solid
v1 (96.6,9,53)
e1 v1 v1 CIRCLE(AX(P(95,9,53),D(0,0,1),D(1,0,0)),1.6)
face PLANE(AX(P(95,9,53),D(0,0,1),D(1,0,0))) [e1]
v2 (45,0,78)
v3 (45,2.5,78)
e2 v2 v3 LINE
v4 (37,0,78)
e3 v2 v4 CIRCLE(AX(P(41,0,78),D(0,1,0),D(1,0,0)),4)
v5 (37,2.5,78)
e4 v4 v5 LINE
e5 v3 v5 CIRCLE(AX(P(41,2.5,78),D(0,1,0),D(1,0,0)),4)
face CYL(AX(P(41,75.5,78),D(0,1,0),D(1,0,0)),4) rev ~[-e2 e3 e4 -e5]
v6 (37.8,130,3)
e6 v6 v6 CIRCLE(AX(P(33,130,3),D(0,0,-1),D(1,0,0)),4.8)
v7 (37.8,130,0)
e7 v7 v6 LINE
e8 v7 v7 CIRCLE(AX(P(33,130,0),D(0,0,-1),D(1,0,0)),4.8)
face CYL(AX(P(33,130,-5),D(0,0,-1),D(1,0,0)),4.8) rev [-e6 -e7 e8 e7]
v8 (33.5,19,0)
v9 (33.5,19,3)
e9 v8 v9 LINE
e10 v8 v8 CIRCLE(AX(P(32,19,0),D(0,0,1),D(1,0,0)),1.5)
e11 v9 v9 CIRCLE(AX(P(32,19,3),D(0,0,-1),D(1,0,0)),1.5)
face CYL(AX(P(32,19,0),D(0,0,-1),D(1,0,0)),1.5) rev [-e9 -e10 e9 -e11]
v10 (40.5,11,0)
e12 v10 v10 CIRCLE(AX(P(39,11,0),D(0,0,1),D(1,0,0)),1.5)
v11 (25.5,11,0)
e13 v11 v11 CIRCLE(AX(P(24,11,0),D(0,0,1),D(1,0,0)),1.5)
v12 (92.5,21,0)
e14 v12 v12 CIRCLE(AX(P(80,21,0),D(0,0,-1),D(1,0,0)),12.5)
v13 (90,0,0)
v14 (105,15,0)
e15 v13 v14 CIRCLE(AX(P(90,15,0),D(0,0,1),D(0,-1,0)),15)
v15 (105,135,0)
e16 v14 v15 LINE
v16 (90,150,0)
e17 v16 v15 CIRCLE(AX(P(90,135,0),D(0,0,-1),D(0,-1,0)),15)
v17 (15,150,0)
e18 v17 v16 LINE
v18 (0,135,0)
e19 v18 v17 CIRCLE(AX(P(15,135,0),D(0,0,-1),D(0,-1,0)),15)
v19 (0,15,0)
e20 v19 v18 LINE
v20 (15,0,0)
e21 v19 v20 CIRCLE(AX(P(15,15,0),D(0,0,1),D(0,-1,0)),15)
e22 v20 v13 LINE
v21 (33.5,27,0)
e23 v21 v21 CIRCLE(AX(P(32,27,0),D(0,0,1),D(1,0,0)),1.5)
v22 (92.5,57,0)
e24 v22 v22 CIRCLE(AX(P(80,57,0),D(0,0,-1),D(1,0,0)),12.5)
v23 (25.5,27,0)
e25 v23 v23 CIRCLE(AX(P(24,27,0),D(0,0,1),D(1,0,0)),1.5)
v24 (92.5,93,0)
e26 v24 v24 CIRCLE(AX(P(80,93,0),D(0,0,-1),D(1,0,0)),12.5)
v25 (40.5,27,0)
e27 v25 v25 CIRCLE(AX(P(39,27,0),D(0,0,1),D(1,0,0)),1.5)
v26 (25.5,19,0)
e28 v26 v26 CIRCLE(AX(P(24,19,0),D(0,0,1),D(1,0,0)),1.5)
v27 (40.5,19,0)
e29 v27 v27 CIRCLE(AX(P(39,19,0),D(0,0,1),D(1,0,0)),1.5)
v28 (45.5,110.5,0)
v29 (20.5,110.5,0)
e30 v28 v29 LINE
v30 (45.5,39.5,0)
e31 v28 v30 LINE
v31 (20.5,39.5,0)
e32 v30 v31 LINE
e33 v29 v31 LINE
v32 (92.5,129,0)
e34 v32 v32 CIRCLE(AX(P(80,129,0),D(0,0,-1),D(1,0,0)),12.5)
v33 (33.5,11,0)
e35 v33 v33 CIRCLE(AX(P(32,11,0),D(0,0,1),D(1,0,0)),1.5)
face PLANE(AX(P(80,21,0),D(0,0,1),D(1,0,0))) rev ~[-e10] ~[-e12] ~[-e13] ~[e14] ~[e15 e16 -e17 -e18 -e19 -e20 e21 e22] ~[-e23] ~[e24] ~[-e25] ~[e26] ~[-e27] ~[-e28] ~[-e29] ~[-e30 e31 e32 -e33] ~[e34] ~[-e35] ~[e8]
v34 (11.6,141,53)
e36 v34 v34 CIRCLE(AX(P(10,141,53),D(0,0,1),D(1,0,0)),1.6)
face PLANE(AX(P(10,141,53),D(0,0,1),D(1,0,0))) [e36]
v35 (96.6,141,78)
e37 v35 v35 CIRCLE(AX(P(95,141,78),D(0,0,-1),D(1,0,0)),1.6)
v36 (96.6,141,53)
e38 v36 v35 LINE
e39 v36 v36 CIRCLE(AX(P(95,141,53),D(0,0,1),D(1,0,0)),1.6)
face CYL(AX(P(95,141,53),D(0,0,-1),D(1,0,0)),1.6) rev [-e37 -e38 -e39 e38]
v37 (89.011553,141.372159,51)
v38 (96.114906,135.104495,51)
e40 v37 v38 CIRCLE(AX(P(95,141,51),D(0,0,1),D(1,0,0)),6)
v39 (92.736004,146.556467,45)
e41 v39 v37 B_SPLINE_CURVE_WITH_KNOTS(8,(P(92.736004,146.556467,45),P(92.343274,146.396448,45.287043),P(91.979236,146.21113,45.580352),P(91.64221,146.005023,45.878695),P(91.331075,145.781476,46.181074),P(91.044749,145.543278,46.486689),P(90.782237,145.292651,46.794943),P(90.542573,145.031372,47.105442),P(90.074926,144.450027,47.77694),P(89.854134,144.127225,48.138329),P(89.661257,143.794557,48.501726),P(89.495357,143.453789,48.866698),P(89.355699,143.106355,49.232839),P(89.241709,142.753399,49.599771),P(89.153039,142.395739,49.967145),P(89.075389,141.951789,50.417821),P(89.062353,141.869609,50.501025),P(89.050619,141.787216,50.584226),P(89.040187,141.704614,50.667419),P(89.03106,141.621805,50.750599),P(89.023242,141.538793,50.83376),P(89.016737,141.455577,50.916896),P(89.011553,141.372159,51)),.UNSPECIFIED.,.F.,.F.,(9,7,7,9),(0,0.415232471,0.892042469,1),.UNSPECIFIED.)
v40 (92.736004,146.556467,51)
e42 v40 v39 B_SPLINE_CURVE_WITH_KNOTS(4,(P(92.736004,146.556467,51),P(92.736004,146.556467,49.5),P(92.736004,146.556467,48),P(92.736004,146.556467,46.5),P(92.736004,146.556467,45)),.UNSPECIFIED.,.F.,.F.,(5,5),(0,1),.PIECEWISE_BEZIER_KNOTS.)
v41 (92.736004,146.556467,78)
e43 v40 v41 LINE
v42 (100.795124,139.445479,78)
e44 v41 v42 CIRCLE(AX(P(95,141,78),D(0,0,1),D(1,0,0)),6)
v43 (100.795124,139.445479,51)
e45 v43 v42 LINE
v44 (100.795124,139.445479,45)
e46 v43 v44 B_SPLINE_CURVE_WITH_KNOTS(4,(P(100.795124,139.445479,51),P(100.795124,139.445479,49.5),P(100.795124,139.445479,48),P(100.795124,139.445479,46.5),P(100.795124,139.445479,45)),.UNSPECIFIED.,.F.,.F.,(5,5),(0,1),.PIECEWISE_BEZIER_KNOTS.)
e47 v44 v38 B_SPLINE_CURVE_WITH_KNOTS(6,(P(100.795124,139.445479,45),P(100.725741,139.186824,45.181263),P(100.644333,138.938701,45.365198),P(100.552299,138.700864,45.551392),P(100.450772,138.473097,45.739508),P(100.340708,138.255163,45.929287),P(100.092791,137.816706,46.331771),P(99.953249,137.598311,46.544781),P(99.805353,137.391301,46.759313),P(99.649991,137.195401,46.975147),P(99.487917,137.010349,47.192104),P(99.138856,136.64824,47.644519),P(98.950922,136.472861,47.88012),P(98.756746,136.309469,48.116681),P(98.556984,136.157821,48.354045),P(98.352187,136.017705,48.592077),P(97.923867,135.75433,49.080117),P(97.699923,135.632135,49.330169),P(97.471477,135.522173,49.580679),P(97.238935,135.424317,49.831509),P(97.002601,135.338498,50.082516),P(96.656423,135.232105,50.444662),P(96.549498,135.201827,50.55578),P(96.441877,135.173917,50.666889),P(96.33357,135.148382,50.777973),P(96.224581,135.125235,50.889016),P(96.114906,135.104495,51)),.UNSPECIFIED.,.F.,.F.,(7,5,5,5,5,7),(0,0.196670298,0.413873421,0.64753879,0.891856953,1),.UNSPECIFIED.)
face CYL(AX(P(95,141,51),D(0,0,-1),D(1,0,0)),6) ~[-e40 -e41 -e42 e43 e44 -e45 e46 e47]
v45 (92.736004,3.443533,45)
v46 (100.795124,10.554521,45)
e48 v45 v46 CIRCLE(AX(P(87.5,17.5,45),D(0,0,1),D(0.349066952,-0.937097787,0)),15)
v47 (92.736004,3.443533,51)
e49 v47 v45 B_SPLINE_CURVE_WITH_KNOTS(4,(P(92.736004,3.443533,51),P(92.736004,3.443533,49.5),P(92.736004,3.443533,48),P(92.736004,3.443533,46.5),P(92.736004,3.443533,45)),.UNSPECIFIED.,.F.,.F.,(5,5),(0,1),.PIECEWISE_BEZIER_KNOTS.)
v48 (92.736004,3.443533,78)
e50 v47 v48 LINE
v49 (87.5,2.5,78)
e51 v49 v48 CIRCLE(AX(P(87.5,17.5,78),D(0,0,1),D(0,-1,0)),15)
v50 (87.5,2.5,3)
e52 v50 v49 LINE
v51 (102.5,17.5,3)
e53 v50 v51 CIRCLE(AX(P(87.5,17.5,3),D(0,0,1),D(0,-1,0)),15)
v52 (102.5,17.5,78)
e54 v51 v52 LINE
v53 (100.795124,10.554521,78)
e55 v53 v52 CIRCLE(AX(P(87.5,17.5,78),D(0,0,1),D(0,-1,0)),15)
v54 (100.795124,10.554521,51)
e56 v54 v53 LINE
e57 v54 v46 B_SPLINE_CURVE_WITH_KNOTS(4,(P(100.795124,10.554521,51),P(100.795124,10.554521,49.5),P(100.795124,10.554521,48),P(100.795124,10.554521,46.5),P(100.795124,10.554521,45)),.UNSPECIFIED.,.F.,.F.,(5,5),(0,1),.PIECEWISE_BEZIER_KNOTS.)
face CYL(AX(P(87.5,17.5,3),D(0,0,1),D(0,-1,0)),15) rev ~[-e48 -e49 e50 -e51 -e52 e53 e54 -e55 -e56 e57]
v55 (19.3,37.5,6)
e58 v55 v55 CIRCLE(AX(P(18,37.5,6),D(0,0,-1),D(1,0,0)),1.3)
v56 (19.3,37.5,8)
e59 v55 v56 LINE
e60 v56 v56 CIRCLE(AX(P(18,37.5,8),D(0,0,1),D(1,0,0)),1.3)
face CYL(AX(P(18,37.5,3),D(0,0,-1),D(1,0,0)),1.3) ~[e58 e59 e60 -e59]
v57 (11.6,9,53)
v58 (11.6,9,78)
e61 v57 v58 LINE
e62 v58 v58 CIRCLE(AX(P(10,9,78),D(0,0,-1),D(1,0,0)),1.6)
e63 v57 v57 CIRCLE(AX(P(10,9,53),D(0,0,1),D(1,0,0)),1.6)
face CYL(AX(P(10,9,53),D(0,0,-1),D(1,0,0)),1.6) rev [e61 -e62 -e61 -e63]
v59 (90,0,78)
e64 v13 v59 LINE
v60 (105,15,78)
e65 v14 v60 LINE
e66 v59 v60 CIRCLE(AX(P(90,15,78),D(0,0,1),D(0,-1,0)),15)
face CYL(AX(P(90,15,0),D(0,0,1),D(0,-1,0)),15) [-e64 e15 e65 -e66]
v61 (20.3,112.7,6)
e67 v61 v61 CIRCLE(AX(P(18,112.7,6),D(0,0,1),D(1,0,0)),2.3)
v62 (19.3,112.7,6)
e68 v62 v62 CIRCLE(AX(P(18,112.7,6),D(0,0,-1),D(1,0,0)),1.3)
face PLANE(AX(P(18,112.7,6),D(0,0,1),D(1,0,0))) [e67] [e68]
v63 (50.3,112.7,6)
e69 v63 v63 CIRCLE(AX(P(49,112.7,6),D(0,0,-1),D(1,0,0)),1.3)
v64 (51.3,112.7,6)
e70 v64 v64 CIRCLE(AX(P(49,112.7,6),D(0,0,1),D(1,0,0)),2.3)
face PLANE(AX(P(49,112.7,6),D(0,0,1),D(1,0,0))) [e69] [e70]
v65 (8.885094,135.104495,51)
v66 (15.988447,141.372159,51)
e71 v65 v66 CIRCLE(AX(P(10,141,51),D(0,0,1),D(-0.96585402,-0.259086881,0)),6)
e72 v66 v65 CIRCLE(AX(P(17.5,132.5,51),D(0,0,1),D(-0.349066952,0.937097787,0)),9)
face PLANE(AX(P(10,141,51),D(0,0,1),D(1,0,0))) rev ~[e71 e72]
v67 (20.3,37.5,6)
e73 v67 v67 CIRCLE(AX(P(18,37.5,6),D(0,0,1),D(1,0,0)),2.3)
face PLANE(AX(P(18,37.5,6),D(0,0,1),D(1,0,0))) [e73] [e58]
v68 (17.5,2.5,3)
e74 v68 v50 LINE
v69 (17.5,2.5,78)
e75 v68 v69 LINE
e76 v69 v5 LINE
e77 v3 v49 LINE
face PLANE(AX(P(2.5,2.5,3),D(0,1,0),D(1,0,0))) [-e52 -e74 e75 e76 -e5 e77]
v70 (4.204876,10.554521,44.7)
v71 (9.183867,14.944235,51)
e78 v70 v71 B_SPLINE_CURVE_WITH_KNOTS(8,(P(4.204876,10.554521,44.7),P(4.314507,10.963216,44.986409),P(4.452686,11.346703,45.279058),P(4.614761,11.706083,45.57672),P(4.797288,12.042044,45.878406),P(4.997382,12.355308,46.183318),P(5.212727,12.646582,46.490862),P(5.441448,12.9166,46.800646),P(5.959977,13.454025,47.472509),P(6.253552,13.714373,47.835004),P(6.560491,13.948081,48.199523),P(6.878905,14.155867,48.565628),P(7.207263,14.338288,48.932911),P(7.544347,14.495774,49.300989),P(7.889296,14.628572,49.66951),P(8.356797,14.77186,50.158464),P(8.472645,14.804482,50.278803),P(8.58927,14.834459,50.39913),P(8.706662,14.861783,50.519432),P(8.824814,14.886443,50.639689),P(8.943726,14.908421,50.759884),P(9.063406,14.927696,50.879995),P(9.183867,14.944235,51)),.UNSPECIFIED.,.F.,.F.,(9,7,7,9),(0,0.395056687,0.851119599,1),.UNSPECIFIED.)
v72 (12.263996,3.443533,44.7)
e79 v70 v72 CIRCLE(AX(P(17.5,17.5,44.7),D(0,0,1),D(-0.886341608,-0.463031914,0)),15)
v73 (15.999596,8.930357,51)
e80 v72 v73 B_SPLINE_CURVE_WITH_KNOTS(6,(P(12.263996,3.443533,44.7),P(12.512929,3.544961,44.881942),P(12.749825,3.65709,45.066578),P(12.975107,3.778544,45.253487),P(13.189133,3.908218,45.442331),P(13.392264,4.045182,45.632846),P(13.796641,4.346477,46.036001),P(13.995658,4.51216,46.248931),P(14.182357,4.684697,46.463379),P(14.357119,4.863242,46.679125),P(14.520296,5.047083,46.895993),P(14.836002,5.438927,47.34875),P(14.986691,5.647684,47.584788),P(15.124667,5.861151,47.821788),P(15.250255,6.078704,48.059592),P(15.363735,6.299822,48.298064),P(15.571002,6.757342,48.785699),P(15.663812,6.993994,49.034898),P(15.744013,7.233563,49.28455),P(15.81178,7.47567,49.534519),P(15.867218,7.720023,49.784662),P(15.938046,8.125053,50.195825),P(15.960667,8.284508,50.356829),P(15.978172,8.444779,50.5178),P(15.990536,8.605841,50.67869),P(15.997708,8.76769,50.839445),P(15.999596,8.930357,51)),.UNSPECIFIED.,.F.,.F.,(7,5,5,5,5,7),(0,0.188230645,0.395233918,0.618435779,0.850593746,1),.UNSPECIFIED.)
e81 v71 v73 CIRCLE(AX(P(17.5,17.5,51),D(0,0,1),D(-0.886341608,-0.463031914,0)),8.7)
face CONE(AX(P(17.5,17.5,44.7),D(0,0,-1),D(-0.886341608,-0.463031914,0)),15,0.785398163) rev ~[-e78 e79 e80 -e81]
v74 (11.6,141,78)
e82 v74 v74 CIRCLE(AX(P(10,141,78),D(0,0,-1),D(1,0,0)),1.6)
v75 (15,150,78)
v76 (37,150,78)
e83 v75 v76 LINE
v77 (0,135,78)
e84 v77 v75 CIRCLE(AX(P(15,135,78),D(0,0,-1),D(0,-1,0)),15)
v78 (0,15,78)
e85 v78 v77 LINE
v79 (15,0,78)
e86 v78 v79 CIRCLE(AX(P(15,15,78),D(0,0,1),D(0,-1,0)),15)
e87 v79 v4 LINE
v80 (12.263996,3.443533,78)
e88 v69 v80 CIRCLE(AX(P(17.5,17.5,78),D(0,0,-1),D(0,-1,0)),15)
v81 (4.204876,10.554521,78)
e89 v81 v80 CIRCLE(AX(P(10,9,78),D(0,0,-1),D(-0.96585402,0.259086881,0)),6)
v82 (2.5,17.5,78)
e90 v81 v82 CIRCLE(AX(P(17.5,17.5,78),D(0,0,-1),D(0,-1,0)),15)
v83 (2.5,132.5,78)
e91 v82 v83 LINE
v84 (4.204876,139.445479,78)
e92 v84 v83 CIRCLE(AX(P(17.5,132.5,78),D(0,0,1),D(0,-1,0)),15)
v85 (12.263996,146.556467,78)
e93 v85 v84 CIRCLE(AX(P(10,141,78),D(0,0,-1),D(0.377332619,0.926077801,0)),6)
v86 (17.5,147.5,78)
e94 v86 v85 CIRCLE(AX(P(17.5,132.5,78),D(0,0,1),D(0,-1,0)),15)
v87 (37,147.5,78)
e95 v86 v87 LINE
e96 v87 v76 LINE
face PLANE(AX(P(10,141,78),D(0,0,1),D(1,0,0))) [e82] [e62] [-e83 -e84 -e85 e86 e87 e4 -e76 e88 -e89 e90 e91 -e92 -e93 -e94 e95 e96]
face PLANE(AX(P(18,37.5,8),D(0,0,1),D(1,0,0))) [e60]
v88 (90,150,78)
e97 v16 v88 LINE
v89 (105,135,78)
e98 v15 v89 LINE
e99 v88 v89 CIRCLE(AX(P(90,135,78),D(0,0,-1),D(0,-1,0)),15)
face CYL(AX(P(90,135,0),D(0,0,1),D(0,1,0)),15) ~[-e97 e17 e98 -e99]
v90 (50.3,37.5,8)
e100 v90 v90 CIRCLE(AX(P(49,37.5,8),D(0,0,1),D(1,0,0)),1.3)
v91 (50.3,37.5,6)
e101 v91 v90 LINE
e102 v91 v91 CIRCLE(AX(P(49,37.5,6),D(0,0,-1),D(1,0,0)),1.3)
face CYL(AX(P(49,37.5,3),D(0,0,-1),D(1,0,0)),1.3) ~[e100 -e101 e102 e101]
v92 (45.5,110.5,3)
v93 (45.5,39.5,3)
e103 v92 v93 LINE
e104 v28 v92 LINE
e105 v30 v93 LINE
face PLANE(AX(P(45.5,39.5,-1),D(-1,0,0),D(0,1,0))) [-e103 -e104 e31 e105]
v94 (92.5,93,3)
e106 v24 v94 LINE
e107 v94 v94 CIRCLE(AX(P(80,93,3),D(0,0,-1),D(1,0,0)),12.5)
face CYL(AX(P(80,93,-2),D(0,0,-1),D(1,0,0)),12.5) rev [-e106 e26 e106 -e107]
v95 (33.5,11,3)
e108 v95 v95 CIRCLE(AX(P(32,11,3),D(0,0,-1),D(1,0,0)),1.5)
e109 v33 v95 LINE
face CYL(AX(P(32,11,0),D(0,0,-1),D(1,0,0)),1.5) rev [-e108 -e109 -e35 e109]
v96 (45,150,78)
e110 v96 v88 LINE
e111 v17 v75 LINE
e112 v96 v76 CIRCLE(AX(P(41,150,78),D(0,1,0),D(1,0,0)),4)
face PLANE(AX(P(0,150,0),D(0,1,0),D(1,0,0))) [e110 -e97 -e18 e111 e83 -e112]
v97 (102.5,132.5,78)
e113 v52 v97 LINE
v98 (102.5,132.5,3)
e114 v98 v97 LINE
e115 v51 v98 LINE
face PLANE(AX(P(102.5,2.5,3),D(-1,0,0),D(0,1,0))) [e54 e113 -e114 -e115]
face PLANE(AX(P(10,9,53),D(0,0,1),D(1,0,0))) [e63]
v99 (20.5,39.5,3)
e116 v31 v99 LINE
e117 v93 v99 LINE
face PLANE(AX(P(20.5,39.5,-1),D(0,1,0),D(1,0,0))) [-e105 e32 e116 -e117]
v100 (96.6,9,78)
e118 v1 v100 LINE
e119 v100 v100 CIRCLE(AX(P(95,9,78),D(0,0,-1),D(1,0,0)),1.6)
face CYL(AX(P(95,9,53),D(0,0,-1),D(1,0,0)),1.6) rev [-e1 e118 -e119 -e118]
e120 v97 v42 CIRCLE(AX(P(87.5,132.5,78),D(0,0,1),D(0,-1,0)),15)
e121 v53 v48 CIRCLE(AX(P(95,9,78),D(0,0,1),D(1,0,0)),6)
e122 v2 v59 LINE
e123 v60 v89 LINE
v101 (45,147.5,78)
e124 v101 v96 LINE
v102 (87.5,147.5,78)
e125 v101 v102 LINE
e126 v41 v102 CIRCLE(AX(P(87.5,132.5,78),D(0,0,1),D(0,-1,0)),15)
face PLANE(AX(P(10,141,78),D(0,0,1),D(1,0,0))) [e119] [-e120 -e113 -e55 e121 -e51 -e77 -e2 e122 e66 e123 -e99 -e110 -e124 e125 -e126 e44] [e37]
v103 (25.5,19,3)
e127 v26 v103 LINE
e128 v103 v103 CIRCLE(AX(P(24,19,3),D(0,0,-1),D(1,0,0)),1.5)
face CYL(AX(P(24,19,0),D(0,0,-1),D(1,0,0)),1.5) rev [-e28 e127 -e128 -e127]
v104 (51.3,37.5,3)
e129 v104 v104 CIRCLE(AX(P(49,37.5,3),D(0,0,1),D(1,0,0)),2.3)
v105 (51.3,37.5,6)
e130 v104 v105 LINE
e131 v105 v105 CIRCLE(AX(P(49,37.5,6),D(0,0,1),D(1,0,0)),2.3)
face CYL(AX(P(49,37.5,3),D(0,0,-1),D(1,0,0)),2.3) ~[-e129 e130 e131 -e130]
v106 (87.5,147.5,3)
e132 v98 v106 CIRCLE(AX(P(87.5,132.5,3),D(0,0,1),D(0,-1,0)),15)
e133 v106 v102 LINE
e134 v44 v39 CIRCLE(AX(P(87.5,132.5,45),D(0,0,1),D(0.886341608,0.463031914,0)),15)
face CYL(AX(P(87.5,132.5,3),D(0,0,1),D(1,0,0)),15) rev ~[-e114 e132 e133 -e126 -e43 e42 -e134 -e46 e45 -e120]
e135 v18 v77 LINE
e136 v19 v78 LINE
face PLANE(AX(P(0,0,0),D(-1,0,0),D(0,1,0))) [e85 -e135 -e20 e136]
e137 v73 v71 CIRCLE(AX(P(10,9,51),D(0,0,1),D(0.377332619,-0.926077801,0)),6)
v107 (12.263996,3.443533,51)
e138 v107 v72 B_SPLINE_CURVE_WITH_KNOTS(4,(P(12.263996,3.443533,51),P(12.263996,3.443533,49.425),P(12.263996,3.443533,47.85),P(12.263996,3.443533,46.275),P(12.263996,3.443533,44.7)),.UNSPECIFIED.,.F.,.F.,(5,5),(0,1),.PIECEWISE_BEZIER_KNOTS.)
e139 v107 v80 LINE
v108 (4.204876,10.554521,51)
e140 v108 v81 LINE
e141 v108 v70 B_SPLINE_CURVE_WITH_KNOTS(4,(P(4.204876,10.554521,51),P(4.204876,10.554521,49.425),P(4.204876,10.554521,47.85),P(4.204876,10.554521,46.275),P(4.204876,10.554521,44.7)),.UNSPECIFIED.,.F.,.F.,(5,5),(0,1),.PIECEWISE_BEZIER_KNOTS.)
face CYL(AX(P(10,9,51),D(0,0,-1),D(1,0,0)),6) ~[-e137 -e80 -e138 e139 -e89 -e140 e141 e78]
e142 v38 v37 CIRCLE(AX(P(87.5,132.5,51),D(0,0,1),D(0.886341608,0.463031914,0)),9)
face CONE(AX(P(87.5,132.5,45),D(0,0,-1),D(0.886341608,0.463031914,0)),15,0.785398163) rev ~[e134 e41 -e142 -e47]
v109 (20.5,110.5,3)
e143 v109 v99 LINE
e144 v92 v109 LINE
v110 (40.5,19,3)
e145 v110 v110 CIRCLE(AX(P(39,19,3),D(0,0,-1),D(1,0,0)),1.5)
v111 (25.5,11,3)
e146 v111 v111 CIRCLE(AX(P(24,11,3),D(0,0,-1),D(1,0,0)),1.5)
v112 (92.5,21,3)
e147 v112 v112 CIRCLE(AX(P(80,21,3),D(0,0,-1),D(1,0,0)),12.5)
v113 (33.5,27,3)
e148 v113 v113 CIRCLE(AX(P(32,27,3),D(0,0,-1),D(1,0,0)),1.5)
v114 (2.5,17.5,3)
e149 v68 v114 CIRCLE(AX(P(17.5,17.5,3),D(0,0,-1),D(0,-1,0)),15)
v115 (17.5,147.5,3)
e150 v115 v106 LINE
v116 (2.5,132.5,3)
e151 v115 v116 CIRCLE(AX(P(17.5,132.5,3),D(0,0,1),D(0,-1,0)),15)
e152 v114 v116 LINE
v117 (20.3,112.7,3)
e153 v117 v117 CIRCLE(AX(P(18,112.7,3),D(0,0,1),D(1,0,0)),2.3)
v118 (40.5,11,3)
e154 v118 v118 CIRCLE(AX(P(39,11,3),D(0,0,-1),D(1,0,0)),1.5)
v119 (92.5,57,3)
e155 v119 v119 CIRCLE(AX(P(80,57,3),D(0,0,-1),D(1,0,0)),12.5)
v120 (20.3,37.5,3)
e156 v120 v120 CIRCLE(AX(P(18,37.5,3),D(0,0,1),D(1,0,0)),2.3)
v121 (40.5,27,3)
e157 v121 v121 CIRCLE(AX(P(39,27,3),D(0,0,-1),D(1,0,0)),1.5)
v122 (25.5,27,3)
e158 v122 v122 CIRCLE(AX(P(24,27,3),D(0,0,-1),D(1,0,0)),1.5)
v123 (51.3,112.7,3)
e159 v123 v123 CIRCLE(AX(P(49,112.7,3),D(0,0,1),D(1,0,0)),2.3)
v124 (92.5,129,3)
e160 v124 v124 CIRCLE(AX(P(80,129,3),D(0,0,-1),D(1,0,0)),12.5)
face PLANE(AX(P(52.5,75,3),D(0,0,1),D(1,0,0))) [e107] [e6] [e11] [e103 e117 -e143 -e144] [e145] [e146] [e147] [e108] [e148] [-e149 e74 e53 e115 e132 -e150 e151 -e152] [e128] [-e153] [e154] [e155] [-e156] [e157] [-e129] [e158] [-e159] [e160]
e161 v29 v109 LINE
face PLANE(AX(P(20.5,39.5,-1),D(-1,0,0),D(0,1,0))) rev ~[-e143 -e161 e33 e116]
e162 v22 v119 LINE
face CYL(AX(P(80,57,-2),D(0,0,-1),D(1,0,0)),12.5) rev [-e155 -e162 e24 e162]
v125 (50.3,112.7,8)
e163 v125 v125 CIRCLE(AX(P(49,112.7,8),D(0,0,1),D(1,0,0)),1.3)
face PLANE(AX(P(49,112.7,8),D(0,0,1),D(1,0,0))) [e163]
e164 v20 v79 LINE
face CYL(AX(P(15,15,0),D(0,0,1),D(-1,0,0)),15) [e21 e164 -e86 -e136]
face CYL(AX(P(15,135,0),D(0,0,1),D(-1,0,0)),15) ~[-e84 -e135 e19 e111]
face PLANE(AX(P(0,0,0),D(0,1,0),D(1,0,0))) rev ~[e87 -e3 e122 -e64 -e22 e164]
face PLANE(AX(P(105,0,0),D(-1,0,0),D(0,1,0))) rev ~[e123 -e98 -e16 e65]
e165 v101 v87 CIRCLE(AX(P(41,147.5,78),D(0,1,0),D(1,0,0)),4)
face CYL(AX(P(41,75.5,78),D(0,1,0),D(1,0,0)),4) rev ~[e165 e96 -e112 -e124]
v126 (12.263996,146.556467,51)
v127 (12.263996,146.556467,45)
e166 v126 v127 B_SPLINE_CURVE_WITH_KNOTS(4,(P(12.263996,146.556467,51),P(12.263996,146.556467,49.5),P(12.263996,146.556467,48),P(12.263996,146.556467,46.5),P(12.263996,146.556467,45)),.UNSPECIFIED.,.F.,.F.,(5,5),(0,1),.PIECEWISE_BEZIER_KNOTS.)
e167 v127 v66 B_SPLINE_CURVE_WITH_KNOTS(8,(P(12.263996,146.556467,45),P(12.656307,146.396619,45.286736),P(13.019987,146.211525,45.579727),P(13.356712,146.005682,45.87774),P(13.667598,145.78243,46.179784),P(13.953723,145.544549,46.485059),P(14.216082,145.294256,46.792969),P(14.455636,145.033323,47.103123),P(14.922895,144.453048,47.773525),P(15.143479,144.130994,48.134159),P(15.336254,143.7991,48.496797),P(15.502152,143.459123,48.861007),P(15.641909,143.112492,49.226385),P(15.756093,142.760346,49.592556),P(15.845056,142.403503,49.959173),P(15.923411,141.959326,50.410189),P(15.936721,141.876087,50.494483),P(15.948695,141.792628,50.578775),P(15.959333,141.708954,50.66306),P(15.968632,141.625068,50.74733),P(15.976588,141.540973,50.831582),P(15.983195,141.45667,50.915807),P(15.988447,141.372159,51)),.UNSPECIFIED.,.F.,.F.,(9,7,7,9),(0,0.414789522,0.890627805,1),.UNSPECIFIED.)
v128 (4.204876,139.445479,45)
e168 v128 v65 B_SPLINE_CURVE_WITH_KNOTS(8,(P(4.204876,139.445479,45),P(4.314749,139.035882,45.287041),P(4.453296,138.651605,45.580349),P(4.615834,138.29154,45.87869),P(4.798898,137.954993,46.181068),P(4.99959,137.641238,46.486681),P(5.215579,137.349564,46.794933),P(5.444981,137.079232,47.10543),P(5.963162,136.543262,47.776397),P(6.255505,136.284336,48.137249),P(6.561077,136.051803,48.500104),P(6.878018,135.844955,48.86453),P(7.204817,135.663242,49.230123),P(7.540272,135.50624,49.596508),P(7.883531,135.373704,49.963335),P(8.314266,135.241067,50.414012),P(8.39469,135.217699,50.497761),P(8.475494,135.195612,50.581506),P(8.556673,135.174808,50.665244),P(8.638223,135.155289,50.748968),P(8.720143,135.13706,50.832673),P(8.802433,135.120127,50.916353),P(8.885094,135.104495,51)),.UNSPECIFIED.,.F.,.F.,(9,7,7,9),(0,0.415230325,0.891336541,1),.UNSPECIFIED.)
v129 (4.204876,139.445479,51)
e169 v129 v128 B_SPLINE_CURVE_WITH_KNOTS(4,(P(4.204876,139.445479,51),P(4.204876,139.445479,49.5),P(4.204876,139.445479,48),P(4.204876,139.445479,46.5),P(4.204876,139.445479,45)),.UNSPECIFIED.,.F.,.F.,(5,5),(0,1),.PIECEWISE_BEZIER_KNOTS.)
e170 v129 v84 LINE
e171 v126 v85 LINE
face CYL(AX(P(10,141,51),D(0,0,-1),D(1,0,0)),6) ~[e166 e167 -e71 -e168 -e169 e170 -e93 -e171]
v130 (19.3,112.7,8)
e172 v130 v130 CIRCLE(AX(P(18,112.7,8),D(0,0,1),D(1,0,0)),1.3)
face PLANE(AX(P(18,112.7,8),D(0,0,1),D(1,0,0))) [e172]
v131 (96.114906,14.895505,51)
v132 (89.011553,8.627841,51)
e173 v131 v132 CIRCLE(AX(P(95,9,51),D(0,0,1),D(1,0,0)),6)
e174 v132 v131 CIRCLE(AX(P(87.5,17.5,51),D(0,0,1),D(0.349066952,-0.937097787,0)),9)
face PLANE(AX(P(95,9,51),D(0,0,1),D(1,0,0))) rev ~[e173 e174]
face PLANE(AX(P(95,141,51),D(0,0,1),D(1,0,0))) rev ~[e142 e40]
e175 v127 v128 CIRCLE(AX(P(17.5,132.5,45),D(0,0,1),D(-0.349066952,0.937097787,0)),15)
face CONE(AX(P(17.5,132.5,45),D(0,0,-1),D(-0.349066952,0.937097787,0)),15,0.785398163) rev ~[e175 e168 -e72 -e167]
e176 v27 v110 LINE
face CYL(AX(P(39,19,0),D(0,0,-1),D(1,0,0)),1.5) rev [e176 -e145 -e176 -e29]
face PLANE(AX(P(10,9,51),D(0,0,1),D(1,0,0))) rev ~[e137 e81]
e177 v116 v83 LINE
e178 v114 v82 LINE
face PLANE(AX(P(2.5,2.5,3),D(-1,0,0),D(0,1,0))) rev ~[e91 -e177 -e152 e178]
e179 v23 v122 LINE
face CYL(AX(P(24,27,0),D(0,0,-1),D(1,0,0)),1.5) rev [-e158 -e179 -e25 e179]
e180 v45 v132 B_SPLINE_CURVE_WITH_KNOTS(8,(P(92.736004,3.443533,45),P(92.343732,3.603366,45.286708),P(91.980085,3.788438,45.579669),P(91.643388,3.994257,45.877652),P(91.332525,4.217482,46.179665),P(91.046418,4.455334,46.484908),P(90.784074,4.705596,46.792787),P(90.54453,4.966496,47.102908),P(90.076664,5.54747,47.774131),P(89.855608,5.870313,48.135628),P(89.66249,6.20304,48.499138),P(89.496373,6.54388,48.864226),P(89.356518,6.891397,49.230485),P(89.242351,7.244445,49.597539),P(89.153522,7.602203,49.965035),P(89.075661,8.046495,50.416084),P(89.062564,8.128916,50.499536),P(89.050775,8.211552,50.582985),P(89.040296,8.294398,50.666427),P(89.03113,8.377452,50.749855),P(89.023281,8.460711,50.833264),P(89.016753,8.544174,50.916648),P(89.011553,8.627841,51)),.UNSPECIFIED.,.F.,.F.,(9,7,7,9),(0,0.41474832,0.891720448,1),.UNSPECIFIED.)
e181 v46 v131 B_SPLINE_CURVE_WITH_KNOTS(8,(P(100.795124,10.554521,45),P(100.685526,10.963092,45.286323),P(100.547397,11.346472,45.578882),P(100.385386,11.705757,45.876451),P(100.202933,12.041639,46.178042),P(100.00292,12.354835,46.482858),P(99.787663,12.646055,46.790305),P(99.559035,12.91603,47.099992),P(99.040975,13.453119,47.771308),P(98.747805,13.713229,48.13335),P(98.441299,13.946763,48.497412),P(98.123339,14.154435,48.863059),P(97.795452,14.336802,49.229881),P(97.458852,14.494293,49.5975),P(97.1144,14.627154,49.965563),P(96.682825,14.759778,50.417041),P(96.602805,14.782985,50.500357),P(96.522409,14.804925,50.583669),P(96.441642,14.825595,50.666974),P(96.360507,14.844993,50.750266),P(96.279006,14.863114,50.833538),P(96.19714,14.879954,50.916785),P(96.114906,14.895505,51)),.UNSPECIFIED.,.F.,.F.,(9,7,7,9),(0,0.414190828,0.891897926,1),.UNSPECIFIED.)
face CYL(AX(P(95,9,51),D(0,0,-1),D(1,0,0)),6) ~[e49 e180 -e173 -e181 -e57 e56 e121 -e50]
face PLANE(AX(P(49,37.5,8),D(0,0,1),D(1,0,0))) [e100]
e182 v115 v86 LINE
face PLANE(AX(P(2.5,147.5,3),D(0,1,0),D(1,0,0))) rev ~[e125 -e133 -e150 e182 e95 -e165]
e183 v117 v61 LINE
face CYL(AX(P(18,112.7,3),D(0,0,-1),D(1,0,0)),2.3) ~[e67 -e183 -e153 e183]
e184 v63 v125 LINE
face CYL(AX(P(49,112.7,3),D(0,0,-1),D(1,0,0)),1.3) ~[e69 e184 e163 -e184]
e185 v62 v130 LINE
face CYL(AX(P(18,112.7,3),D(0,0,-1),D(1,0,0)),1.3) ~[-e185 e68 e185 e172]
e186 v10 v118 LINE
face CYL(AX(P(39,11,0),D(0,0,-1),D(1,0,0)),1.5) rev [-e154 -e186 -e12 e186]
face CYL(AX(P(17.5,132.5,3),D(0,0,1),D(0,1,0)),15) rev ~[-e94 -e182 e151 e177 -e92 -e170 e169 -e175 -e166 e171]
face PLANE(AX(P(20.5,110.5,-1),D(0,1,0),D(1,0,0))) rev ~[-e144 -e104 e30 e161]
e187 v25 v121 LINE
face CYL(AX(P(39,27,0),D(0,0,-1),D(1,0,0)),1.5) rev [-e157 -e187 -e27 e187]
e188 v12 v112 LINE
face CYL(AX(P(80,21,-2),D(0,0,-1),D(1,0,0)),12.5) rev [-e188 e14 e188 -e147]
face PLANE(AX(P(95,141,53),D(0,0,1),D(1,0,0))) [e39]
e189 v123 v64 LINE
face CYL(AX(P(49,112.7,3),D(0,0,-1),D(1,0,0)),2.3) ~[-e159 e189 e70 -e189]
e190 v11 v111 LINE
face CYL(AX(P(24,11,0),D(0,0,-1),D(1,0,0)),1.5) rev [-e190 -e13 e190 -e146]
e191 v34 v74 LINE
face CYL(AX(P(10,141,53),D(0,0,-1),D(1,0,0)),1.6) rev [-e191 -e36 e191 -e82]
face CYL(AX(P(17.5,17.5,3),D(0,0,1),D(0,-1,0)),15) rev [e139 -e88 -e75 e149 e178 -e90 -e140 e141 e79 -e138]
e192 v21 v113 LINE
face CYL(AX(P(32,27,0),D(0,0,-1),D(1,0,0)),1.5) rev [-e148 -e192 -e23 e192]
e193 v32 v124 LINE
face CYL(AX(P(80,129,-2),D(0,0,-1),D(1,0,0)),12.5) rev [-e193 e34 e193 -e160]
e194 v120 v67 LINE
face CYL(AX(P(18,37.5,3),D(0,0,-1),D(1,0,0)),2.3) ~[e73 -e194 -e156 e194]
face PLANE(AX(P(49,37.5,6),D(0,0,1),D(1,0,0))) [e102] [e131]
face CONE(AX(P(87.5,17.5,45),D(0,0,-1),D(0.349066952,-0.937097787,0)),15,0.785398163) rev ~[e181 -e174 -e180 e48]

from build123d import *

# Parameters (mm, degrees)
CYLINDER029_R          = 12.5
CYLINDER029_DEPTH      = 10
ARRAY005_Y_COUNT       = 4
ARRAY005_Y_PITCH       = 36
CYLINDER028_R          = 14
CYLINDER028_DEPTH      = 3
ARRAY004_Y_COUNT       = 4
ARRAY004_Y_PITCH       = 36
CYLINDER027_R          = 4.8
CYLINDER027_DEPTH      = 10
CYLINDER026_W          = 4
CYLINDER026_H          = 157
CYLINDER026_ANGLE      = 180
CYLINDER026_ROLL_ANGLE = -90
CYLINDER023_R          = 1.5
CYLINDER023_DEPTH      = 10
CYLINDER024_R          = 1.5
CYLINDER024_DEPTH      = 10
CYLINDER018_R          = 1.5
CYLINDER018_DEPTH      = 10
CYLINDER020_R          = 1.5
CYLINDER020_DEPTH      = 10
CYLINDER021_R          = 1.5
CYLINDER021_DEPTH      = 10
CYLINDER025_R          = 1.5
CYLINDER025_DEPTH      = 10
CYLINDER019_R          = 1.5
CYLINDER019_DEPTH      = 10
CYLINDER022_R          = 1.5
CYLINDER022_DEPTH      = 10
CYLINDER017_R          = 1.5
CYLINDER017_DEPTH      = 10
CYLINDER008_R          = 1.6
CYLINDER008_DEPTH      = 28
CYLINDER010_R          = 1.6
CYLINDER010_DEPTH      = 27
CYLINDER009_R          = 1.6
CYLINDER009_DEPTH      = 28
CYLINDER011_R          = 1.6
CYLINDER011_DEPTH      = 29
CYLINDER005_R          = 6
CYLINDER005_DEPTH      = 27
CYLINDER007_R          = 6
CYLINDER007_DEPTH      = 27
CYLINDER004_R          = 6
CYLINDER004_DEPTH      = 27
CYLINDER003_R          = 6
CYLINDER003_DEPTH      = 27
CYLINDER002_R          = 2.3
CYLINDER002_DEPTH      = 3
ARRAY002_X_COUNT       = 2
ARRAY002_X_PITCH       = 31
ARRAY002_Y_COUNT       = 2
ARRAY002_Y_PITCH       = 75.2
CYLINDER001_R          = 1.3
CYLINDER001_DEPTH      = 5
ARRAY001_X_COUNT       = 2
ARRAY001_X_PITCH       = 31
ARRAY001_Y_COUNT       = 2
ARRAY001_Y_PITCH       = 75.2
BOX002_W               = 25
BOX002_H               = 71
BOX002_DEPTH           = 10
CYLINDER_R             = 14
CYLINDER_DEPTH         = 10
ARRAY_Y_COUNT          = 4
ARRAY_Y_PITCH          = 36
BOX001_W               = 100
BOX001_H               = 145
BOX001_DEPTH           = 75
BOX_W                  = 105
BOX_H                  = 150
BOX_DEPTH              = 78
FILLET_R               = 15
FILLET001_R            = 15
CHAMFER_SIZE           = 6.3
CHAMFER002_SIZE        = 6
CHAMFER003_SIZE        = 6
CHAMFER004_SIZE        = 6


with BuildPart() as botones003:
    # Cylinder029 → Cylinder029 (new body)
    with BuildSketch(Plane(origin=(80, 25, 0), x_dir=(1, 0, 0), z_dir=(0, 0, 1))):
        Circle(CYLINDER029_R)
    extrude(amount=CYLINDER029_DEPTH)

    # Array005 Y: Botones003 ×4


with BuildPart() as botones003_1:
    add(botones003.part)
    with Locations(*[(0, i * ARRAY005_Y_PITCH, 0) for i in range(1, ARRAY005_Y_COUNT)]):
        add(botones003.part)


with BuildPart() as botones003_2:
    # Array005 placement: moved
    add(botones003_1.part.moved(Location((0, -4, -2))))


with BuildPart() as botones002:
    # Cylinder028 → Cylinder028 (new body)
    with BuildSketch(Plane(origin=(80, 25, 0), x_dir=(1, 0, 0), z_dir=(0, 0, 1))):
        Circle(CYLINDER028_R)
    extrude(amount=CYLINDER028_DEPTH)

    # Array004 Y: Botones002 ×4


with BuildPart() as botones002_1:
    add(botones002.part)
    with Locations(*[(0, i * ARRAY004_Y_PITCH, 0) for i in range(1, ARRAY004_Y_COUNT)]):
        add(botones002.part)


with BuildPart() as botones002_2:
    # Array004 placement: moved
    add(botones002_1.part.moved(Location((0, -4, 0))))


with BuildPart() as cilindro027:
    # Cylinder027 → Cylinder027 (new body)
    with BuildSketch(Plane(origin=(33, 130, -5), x_dir=(1, 0, 0), z_dir=(0, 0, 1))):
        Circle(CYLINDER027_R)
    extrude(amount=CYLINDER027_DEPTH)


with BuildPart() as cilindro026:
    # Cylinder026 → Cylinder026 (revolve)
    with BuildSketch(Plane.XZ):
        with Locations((2, 78.5)):
            Rectangle(CYLINDER026_W, CYLINDER026_H)
    revolve(axis=Axis((0, 0, 0), (0, 0, 1)), revolution_arc=CYLINDER026_ANGLE)


with BuildPart() as cilindro026_1:
    # Cylinder026 roll: moved
    add(cilindro026.part.rotate(Axis((0, 0, 0), (1, 0, 0)), CYLINDER026_ROLL_ANGLE))


with BuildPart() as cilindro026_2:
    # Cylinder026 placement: moved
    add(cilindro026_1.part.moved(Location((41, -3, 78))))


with BuildPart() as cilindro023:
    # Cylinder023 → Cylinder023 (new body)
    with BuildSketch(Plane(origin=(39, 27, 0), x_dir=(1, 0, 0), z_dir=(0, 0, 1))):
        Circle(CYLINDER023_R)
    extrude(amount=CYLINDER023_DEPTH)


with BuildPart() as cilindro024:
    # Cylinder024 → Cylinder024 (new body)
    with BuildSketch(Plane(origin=(39, 19, 0), x_dir=(1, 0, 0), z_dir=(0, 0, 1))):
        Circle(CYLINDER024_R)
    extrude(amount=CYLINDER024_DEPTH)


with BuildPart() as cilindro018:
    # Cylinder018 → Cylinder018 (new body)
    with BuildSketch(Plane(origin=(24, 19, 0), x_dir=(1, 0, 0), z_dir=(0, 0, 1))):
        Circle(CYLINDER018_R)
    extrude(amount=CYLINDER018_DEPTH)


with BuildPart() as cilindro020:
    # Cylinder020 → Cylinder020 (new body)
    with BuildSketch(Plane(origin=(32, 27, 0), x_dir=(1, 0, 0), z_dir=(0, 0, 1))):
        Circle(CYLINDER020_R)
    extrude(amount=CYLINDER020_DEPTH)


with BuildPart() as cilindro021:
    # Cylinder021 → Cylinder021 (new body)
    with BuildSketch(Plane(origin=(32, 19, 0), x_dir=(1, 0, 0), z_dir=(0, 0, 1))):
        Circle(CYLINDER021_R)
    extrude(amount=CYLINDER021_DEPTH)


with BuildPart() as cilindro025:
    # Cylinder025 → Cylinder025 (new body)
    with BuildSketch(Plane(origin=(39, 11, 0), x_dir=(1, 0, 0), z_dir=(0, 0, 1))):
        Circle(CYLINDER025_R)
    extrude(amount=CYLINDER025_DEPTH)


with BuildPart() as cilindro019:
    # Cylinder019 → Cylinder019 (new body)
    with BuildSketch(Plane(origin=(24, 11, 0), x_dir=(1, 0, 0), z_dir=(0, 0, 1))):
        Circle(CYLINDER019_R)
    extrude(amount=CYLINDER019_DEPTH)


with BuildPart() as cilindro022:
    # Cylinder022 → Cylinder022 (new body)
    with BuildSketch(Plane(origin=(32, 11, 0), x_dir=(1, 0, 0), z_dir=(0, 0, 1))):
        Circle(CYLINDER022_R)
    extrude(amount=CYLINDER022_DEPTH)


with BuildPart() as altavoces:
    # Cylinder017 → Cylinder017 (new body)
    with BuildSketch(Plane(origin=(24, 27, 0), x_dir=(1, 0, 0), z_dir=(0, 0, 1))):
        Circle(CYLINDER017_R)
    extrude(amount=CYLINDER017_DEPTH)

    # Fusion007: union Cilindro023, Cilindro024, Cilindro018, Cilindro020, Cilindro021, Cilindro025, Cilindro019, Cilindro022
    add(cilindro023.part)
    add(cilindro024.part)
    add(cilindro018.part)
    add(cilindro020.part)
    add(cilindro021.part)
    add(cilindro025.part)
    add(cilindro019.part)
    add(cilindro022.part)


with BuildPart() as cilindro008:
    # Cylinder008 → Cylinder008 (new body)
    with BuildSketch(Plane(origin=(10, 141, 51), x_dir=(1, 0, 0), z_dir=(0, 0, 1))):
        Circle(CYLINDER008_R)
    extrude(amount=CYLINDER008_DEPTH)


with BuildPart() as cilindro010:
    # Cylinder010 → Cylinder010 (new body)
    with BuildSketch(Plane(origin=(95, 141, 51), x_dir=(1, 0, 0), z_dir=(0, 0, 1))):
        Circle(CYLINDER010_R)
    extrude(amount=CYLINDER010_DEPTH)


with BuildPart() as cilindro009:
    # Cylinder009 → Cylinder009 (new body)
    with BuildSketch(Plane(origin=(95, 9, 51), x_dir=(1, 0, 0), z_dir=(0, 0, 1))):
        Circle(CYLINDER009_R)
    extrude(amount=CYLINDER009_DEPTH)


with BuildPart() as fusion005:
    # Cylinder011 → Cylinder011 (new body)
    with BuildSketch(Plane(origin=(10, 9, 51), x_dir=(1, 0, 0), z_dir=(0, 0, 1))):
        Circle(CYLINDER011_R)
    extrude(amount=CYLINDER011_DEPTH)

    # Fusion005: union Cilindro008, Cilindro010, Cilindro009
    add(cilindro008.part)
    add(cilindro010.part)
    add(cilindro009.part)


with BuildPart() as fusion005_1:
    # Fusion005 placement: moved
    add(fusion005.part.moved(Location((0, 0, 2))))


with BuildPart() as cilindro005:
    # Cylinder005 → Cylinder005 (new body)
    with BuildSketch(Plane(origin=(95, 141, 51), x_dir=(1, 0, 0), z_dir=(0, 0, 1))):
        Circle(CYLINDER005_R)
    extrude(amount=CYLINDER005_DEPTH)


with BuildPart() as cilindro007:
    # Cylinder007 → Cylinder007 (new body)
    with BuildSketch(Plane(origin=(10, 141, 51), x_dir=(1, 0, 0), z_dir=(0, 0, 1))):
        Circle(CYLINDER007_R)
    extrude(amount=CYLINDER007_DEPTH)


with BuildPart() as fusion003:
    # Cylinder004 → Cylinder004 (new body)
    with BuildSketch(Plane(origin=(95, 9, 51), x_dir=(1, 0, 0), z_dir=(0, 0, 1))):
        Circle(CYLINDER004_R)
    extrude(amount=CYLINDER004_DEPTH)

    # Fusion003: union Cilindro005, Cilindro007
    add(cilindro005.part)
    add(cilindro007.part)


with BuildPart() as cilindro003:
    # Cylinder003 → Cylinder003 (new body)
    with BuildSketch(Plane(origin=(10, 9, 51), x_dir=(1, 0, 0), z_dir=(0, 0, 1))):
        Circle(CYLINDER003_R)
    extrude(amount=CYLINDER003_DEPTH)


with BuildPart() as array002:
    # Cylinder002 → Cylinder002 (new body)
    with BuildSketch(Plane(origin=(18, 37.5, 3), x_dir=(1, 0, 0), z_dir=(0, 0, 1))):
        Circle(CYLINDER002_R)
    extrude(amount=CYLINDER002_DEPTH)

    # Array002 X: Array002 ×2


with BuildPart() as array002_1:
    add(array002.part)
    with Locations(*[(i * ARRAY002_X_PITCH, 0, 0) for i in range(1, ARRAY002_X_COUNT)]):
        add(array002.part)

    # Array002 Y: Array002 ×2


with BuildPart() as array002_2:
    add(array002_1.part)
    with Locations(*[(0, i * ARRAY002_Y_PITCH, 0) for i in range(1, ARRAY002_Y_COUNT)]):
        add(array002_1.part)


with BuildPart() as fusion:
    # Cylinder001 → Cylinder001 (new body)
    with BuildSketch(Plane(origin=(18, 37.5, 3), x_dir=(1, 0, 0), z_dir=(0, 0, 1))):
        Circle(CYLINDER001_R)
    extrude(amount=CYLINDER001_DEPTH)

    # Array001 X: Fusion ×2


with BuildPart() as fusion_1:
    add(fusion.part)
    with Locations(*[(i * ARRAY001_X_PITCH, 0, 0) for i in range(1, ARRAY001_X_COUNT)]):
        add(fusion.part)

    # Array001 Y: Fusion ×2


with BuildPart() as fusion_2:
    add(fusion_1.part)
    with Locations(*[(0, i * ARRAY001_Y_PITCH, 0) for i in range(1, ARRAY001_Y_COUNT)]):
        add(fusion_1.part)

    # Fusion: union Array002
    add(array002_2.part)


with BuildPart() as cubo002:
    # Box002 → Box002 (new body)
    with BuildSketch(Plane(origin=(20.5, 39.5, -1), x_dir=(1, 0, 0), z_dir=(0, 0, 1))):
        with Locations((12.5, 35.5)):
            Rectangle(BOX002_W, BOX002_H)
    extrude(amount=BOX002_DEPTH)


with BuildPart() as botones:
    # Cylinder → Cylinder (new body)
    with BuildSketch(Plane(origin=(80, 25, 0), x_dir=(1, 0, 0), z_dir=(0, 0, 1))):
        Circle(CYLINDER_R)
    extrude(amount=CYLINDER_DEPTH)

    # Array Y: Botones ×4


with BuildPart() as botones_1:
    add(botones.part)
    with Locations(*[(0, i * ARRAY_Y_PITCH, 0) for i in range(1, ARRAY_Y_COUNT)]):
        add(botones.part)


with BuildPart() as botones_2:
    # Array placement: moved
    add(botones_1.part.moved(Location((0, -4, -2))))


with BuildPart() as cubo001:
    # Box001 → Box001 (new body)
    with BuildSketch(Plane(origin=(2.5, 2.5, 3), x_dir=(1, 0, 0), z_dir=(0, 0, 1))):
        with Locations((50, 72.5)):
            Rectangle(BOX001_W, BOX001_H)
    extrude(amount=BOX001_DEPTH)


with BuildPart() as cut012:
    # Box → Box (new body)
    with BuildSketch(Plane.XY):
        with Locations((52.5, 75)):
            Rectangle(BOX_W, BOX_H)
    extrude(amount=BOX_DEPTH)

    # Cut: cut Cubo001
    add(cubo001.part, mode=Mode.SUBTRACT)

    # Cut001: cut Botones
    add(botones_2.part, mode=Mode.SUBTRACT)

    # Cut002: cut Cubo002
    add(cubo002.part, mode=Mode.SUBTRACT)

    # Fillet
    fillet_edges = [cut012.edges().sort_by_distance(p)[0] for p in [
        (2.5, 2.5, 40.5),
        (2.5, 147.5, 40.5),
        (102.5, 2.5, 40.5),
        (102.5, 147.5, 40.5),
    ]]
    fillet(fillet_edges, radius=FILLET_R)

    # Fillet001
    fillet001_edges = [cut012.edges().sort_by_distance(p)[0] for p in [
        (0, 0, 39),
        (0, 150, 39),
        (105, 150, 39),
        (105, 0, 39),
    ]]
    fillet(fillet001_edges, radius=FILLET001_R)

    # Fusion001: union Fusion
    add(fusion_2.part)

    # Fusion002: union Cilindro003
    add(cilindro003.part)

    # Chamfer
    chamfer_edges = [cut012.edges().sort_by_distance(p)[0] for p in [
        (7.575675, 6.252432, 51),
    ]]
    chamfer(chamfer_edges, length=CHAMFER_SIZE)

    # Fusion004: union Fusion003
    add(fusion003.part)

    # Chamfer002
    chamfer002_edges = [cut012.edges().sort_by_distance(p)[0] for p in [
        (7.575675, 143.747568, 51),
    ]]
    chamfer(chamfer002_edges, length=CHAMFER002_SIZE)

    # Chamfer003
    chamfer003_edges = [cut012.edges().sort_by_distance(p)[0] for p in [
        (97.424325, 143.747568, 51),
    ]]
    chamfer(chamfer003_edges, length=CHAMFER003_SIZE)

    # Chamfer004
    chamfer004_edges = [cut012.edges().sort_by_distance(p)[0] for p in [
        (97.424325, 6.252432, 51),
    ]]
    chamfer(chamfer004_edges, length=CHAMFER004_SIZE)

    # Cut003: cut Fusion005
    add(fusion005_1.part, mode=Mode.SUBTRACT)

    # Cut009: cut altavoces
    add(altavoces.part, mode=Mode.SUBTRACT)

    # Cut010: cut Cilindro026
    add(cilindro026_2.part, mode=Mode.SUBTRACT)

    # Cut011: cut Cilindro027
    add(cilindro027.part, mode=Mode.SUBTRACT)

    # Fusion011: union Botones002
    add(botones002_2.part)

    # Cut012: cut Botones003
    add(botones003_2.part, mode=Mode.SUBTRACT)


solid = cut012.part
